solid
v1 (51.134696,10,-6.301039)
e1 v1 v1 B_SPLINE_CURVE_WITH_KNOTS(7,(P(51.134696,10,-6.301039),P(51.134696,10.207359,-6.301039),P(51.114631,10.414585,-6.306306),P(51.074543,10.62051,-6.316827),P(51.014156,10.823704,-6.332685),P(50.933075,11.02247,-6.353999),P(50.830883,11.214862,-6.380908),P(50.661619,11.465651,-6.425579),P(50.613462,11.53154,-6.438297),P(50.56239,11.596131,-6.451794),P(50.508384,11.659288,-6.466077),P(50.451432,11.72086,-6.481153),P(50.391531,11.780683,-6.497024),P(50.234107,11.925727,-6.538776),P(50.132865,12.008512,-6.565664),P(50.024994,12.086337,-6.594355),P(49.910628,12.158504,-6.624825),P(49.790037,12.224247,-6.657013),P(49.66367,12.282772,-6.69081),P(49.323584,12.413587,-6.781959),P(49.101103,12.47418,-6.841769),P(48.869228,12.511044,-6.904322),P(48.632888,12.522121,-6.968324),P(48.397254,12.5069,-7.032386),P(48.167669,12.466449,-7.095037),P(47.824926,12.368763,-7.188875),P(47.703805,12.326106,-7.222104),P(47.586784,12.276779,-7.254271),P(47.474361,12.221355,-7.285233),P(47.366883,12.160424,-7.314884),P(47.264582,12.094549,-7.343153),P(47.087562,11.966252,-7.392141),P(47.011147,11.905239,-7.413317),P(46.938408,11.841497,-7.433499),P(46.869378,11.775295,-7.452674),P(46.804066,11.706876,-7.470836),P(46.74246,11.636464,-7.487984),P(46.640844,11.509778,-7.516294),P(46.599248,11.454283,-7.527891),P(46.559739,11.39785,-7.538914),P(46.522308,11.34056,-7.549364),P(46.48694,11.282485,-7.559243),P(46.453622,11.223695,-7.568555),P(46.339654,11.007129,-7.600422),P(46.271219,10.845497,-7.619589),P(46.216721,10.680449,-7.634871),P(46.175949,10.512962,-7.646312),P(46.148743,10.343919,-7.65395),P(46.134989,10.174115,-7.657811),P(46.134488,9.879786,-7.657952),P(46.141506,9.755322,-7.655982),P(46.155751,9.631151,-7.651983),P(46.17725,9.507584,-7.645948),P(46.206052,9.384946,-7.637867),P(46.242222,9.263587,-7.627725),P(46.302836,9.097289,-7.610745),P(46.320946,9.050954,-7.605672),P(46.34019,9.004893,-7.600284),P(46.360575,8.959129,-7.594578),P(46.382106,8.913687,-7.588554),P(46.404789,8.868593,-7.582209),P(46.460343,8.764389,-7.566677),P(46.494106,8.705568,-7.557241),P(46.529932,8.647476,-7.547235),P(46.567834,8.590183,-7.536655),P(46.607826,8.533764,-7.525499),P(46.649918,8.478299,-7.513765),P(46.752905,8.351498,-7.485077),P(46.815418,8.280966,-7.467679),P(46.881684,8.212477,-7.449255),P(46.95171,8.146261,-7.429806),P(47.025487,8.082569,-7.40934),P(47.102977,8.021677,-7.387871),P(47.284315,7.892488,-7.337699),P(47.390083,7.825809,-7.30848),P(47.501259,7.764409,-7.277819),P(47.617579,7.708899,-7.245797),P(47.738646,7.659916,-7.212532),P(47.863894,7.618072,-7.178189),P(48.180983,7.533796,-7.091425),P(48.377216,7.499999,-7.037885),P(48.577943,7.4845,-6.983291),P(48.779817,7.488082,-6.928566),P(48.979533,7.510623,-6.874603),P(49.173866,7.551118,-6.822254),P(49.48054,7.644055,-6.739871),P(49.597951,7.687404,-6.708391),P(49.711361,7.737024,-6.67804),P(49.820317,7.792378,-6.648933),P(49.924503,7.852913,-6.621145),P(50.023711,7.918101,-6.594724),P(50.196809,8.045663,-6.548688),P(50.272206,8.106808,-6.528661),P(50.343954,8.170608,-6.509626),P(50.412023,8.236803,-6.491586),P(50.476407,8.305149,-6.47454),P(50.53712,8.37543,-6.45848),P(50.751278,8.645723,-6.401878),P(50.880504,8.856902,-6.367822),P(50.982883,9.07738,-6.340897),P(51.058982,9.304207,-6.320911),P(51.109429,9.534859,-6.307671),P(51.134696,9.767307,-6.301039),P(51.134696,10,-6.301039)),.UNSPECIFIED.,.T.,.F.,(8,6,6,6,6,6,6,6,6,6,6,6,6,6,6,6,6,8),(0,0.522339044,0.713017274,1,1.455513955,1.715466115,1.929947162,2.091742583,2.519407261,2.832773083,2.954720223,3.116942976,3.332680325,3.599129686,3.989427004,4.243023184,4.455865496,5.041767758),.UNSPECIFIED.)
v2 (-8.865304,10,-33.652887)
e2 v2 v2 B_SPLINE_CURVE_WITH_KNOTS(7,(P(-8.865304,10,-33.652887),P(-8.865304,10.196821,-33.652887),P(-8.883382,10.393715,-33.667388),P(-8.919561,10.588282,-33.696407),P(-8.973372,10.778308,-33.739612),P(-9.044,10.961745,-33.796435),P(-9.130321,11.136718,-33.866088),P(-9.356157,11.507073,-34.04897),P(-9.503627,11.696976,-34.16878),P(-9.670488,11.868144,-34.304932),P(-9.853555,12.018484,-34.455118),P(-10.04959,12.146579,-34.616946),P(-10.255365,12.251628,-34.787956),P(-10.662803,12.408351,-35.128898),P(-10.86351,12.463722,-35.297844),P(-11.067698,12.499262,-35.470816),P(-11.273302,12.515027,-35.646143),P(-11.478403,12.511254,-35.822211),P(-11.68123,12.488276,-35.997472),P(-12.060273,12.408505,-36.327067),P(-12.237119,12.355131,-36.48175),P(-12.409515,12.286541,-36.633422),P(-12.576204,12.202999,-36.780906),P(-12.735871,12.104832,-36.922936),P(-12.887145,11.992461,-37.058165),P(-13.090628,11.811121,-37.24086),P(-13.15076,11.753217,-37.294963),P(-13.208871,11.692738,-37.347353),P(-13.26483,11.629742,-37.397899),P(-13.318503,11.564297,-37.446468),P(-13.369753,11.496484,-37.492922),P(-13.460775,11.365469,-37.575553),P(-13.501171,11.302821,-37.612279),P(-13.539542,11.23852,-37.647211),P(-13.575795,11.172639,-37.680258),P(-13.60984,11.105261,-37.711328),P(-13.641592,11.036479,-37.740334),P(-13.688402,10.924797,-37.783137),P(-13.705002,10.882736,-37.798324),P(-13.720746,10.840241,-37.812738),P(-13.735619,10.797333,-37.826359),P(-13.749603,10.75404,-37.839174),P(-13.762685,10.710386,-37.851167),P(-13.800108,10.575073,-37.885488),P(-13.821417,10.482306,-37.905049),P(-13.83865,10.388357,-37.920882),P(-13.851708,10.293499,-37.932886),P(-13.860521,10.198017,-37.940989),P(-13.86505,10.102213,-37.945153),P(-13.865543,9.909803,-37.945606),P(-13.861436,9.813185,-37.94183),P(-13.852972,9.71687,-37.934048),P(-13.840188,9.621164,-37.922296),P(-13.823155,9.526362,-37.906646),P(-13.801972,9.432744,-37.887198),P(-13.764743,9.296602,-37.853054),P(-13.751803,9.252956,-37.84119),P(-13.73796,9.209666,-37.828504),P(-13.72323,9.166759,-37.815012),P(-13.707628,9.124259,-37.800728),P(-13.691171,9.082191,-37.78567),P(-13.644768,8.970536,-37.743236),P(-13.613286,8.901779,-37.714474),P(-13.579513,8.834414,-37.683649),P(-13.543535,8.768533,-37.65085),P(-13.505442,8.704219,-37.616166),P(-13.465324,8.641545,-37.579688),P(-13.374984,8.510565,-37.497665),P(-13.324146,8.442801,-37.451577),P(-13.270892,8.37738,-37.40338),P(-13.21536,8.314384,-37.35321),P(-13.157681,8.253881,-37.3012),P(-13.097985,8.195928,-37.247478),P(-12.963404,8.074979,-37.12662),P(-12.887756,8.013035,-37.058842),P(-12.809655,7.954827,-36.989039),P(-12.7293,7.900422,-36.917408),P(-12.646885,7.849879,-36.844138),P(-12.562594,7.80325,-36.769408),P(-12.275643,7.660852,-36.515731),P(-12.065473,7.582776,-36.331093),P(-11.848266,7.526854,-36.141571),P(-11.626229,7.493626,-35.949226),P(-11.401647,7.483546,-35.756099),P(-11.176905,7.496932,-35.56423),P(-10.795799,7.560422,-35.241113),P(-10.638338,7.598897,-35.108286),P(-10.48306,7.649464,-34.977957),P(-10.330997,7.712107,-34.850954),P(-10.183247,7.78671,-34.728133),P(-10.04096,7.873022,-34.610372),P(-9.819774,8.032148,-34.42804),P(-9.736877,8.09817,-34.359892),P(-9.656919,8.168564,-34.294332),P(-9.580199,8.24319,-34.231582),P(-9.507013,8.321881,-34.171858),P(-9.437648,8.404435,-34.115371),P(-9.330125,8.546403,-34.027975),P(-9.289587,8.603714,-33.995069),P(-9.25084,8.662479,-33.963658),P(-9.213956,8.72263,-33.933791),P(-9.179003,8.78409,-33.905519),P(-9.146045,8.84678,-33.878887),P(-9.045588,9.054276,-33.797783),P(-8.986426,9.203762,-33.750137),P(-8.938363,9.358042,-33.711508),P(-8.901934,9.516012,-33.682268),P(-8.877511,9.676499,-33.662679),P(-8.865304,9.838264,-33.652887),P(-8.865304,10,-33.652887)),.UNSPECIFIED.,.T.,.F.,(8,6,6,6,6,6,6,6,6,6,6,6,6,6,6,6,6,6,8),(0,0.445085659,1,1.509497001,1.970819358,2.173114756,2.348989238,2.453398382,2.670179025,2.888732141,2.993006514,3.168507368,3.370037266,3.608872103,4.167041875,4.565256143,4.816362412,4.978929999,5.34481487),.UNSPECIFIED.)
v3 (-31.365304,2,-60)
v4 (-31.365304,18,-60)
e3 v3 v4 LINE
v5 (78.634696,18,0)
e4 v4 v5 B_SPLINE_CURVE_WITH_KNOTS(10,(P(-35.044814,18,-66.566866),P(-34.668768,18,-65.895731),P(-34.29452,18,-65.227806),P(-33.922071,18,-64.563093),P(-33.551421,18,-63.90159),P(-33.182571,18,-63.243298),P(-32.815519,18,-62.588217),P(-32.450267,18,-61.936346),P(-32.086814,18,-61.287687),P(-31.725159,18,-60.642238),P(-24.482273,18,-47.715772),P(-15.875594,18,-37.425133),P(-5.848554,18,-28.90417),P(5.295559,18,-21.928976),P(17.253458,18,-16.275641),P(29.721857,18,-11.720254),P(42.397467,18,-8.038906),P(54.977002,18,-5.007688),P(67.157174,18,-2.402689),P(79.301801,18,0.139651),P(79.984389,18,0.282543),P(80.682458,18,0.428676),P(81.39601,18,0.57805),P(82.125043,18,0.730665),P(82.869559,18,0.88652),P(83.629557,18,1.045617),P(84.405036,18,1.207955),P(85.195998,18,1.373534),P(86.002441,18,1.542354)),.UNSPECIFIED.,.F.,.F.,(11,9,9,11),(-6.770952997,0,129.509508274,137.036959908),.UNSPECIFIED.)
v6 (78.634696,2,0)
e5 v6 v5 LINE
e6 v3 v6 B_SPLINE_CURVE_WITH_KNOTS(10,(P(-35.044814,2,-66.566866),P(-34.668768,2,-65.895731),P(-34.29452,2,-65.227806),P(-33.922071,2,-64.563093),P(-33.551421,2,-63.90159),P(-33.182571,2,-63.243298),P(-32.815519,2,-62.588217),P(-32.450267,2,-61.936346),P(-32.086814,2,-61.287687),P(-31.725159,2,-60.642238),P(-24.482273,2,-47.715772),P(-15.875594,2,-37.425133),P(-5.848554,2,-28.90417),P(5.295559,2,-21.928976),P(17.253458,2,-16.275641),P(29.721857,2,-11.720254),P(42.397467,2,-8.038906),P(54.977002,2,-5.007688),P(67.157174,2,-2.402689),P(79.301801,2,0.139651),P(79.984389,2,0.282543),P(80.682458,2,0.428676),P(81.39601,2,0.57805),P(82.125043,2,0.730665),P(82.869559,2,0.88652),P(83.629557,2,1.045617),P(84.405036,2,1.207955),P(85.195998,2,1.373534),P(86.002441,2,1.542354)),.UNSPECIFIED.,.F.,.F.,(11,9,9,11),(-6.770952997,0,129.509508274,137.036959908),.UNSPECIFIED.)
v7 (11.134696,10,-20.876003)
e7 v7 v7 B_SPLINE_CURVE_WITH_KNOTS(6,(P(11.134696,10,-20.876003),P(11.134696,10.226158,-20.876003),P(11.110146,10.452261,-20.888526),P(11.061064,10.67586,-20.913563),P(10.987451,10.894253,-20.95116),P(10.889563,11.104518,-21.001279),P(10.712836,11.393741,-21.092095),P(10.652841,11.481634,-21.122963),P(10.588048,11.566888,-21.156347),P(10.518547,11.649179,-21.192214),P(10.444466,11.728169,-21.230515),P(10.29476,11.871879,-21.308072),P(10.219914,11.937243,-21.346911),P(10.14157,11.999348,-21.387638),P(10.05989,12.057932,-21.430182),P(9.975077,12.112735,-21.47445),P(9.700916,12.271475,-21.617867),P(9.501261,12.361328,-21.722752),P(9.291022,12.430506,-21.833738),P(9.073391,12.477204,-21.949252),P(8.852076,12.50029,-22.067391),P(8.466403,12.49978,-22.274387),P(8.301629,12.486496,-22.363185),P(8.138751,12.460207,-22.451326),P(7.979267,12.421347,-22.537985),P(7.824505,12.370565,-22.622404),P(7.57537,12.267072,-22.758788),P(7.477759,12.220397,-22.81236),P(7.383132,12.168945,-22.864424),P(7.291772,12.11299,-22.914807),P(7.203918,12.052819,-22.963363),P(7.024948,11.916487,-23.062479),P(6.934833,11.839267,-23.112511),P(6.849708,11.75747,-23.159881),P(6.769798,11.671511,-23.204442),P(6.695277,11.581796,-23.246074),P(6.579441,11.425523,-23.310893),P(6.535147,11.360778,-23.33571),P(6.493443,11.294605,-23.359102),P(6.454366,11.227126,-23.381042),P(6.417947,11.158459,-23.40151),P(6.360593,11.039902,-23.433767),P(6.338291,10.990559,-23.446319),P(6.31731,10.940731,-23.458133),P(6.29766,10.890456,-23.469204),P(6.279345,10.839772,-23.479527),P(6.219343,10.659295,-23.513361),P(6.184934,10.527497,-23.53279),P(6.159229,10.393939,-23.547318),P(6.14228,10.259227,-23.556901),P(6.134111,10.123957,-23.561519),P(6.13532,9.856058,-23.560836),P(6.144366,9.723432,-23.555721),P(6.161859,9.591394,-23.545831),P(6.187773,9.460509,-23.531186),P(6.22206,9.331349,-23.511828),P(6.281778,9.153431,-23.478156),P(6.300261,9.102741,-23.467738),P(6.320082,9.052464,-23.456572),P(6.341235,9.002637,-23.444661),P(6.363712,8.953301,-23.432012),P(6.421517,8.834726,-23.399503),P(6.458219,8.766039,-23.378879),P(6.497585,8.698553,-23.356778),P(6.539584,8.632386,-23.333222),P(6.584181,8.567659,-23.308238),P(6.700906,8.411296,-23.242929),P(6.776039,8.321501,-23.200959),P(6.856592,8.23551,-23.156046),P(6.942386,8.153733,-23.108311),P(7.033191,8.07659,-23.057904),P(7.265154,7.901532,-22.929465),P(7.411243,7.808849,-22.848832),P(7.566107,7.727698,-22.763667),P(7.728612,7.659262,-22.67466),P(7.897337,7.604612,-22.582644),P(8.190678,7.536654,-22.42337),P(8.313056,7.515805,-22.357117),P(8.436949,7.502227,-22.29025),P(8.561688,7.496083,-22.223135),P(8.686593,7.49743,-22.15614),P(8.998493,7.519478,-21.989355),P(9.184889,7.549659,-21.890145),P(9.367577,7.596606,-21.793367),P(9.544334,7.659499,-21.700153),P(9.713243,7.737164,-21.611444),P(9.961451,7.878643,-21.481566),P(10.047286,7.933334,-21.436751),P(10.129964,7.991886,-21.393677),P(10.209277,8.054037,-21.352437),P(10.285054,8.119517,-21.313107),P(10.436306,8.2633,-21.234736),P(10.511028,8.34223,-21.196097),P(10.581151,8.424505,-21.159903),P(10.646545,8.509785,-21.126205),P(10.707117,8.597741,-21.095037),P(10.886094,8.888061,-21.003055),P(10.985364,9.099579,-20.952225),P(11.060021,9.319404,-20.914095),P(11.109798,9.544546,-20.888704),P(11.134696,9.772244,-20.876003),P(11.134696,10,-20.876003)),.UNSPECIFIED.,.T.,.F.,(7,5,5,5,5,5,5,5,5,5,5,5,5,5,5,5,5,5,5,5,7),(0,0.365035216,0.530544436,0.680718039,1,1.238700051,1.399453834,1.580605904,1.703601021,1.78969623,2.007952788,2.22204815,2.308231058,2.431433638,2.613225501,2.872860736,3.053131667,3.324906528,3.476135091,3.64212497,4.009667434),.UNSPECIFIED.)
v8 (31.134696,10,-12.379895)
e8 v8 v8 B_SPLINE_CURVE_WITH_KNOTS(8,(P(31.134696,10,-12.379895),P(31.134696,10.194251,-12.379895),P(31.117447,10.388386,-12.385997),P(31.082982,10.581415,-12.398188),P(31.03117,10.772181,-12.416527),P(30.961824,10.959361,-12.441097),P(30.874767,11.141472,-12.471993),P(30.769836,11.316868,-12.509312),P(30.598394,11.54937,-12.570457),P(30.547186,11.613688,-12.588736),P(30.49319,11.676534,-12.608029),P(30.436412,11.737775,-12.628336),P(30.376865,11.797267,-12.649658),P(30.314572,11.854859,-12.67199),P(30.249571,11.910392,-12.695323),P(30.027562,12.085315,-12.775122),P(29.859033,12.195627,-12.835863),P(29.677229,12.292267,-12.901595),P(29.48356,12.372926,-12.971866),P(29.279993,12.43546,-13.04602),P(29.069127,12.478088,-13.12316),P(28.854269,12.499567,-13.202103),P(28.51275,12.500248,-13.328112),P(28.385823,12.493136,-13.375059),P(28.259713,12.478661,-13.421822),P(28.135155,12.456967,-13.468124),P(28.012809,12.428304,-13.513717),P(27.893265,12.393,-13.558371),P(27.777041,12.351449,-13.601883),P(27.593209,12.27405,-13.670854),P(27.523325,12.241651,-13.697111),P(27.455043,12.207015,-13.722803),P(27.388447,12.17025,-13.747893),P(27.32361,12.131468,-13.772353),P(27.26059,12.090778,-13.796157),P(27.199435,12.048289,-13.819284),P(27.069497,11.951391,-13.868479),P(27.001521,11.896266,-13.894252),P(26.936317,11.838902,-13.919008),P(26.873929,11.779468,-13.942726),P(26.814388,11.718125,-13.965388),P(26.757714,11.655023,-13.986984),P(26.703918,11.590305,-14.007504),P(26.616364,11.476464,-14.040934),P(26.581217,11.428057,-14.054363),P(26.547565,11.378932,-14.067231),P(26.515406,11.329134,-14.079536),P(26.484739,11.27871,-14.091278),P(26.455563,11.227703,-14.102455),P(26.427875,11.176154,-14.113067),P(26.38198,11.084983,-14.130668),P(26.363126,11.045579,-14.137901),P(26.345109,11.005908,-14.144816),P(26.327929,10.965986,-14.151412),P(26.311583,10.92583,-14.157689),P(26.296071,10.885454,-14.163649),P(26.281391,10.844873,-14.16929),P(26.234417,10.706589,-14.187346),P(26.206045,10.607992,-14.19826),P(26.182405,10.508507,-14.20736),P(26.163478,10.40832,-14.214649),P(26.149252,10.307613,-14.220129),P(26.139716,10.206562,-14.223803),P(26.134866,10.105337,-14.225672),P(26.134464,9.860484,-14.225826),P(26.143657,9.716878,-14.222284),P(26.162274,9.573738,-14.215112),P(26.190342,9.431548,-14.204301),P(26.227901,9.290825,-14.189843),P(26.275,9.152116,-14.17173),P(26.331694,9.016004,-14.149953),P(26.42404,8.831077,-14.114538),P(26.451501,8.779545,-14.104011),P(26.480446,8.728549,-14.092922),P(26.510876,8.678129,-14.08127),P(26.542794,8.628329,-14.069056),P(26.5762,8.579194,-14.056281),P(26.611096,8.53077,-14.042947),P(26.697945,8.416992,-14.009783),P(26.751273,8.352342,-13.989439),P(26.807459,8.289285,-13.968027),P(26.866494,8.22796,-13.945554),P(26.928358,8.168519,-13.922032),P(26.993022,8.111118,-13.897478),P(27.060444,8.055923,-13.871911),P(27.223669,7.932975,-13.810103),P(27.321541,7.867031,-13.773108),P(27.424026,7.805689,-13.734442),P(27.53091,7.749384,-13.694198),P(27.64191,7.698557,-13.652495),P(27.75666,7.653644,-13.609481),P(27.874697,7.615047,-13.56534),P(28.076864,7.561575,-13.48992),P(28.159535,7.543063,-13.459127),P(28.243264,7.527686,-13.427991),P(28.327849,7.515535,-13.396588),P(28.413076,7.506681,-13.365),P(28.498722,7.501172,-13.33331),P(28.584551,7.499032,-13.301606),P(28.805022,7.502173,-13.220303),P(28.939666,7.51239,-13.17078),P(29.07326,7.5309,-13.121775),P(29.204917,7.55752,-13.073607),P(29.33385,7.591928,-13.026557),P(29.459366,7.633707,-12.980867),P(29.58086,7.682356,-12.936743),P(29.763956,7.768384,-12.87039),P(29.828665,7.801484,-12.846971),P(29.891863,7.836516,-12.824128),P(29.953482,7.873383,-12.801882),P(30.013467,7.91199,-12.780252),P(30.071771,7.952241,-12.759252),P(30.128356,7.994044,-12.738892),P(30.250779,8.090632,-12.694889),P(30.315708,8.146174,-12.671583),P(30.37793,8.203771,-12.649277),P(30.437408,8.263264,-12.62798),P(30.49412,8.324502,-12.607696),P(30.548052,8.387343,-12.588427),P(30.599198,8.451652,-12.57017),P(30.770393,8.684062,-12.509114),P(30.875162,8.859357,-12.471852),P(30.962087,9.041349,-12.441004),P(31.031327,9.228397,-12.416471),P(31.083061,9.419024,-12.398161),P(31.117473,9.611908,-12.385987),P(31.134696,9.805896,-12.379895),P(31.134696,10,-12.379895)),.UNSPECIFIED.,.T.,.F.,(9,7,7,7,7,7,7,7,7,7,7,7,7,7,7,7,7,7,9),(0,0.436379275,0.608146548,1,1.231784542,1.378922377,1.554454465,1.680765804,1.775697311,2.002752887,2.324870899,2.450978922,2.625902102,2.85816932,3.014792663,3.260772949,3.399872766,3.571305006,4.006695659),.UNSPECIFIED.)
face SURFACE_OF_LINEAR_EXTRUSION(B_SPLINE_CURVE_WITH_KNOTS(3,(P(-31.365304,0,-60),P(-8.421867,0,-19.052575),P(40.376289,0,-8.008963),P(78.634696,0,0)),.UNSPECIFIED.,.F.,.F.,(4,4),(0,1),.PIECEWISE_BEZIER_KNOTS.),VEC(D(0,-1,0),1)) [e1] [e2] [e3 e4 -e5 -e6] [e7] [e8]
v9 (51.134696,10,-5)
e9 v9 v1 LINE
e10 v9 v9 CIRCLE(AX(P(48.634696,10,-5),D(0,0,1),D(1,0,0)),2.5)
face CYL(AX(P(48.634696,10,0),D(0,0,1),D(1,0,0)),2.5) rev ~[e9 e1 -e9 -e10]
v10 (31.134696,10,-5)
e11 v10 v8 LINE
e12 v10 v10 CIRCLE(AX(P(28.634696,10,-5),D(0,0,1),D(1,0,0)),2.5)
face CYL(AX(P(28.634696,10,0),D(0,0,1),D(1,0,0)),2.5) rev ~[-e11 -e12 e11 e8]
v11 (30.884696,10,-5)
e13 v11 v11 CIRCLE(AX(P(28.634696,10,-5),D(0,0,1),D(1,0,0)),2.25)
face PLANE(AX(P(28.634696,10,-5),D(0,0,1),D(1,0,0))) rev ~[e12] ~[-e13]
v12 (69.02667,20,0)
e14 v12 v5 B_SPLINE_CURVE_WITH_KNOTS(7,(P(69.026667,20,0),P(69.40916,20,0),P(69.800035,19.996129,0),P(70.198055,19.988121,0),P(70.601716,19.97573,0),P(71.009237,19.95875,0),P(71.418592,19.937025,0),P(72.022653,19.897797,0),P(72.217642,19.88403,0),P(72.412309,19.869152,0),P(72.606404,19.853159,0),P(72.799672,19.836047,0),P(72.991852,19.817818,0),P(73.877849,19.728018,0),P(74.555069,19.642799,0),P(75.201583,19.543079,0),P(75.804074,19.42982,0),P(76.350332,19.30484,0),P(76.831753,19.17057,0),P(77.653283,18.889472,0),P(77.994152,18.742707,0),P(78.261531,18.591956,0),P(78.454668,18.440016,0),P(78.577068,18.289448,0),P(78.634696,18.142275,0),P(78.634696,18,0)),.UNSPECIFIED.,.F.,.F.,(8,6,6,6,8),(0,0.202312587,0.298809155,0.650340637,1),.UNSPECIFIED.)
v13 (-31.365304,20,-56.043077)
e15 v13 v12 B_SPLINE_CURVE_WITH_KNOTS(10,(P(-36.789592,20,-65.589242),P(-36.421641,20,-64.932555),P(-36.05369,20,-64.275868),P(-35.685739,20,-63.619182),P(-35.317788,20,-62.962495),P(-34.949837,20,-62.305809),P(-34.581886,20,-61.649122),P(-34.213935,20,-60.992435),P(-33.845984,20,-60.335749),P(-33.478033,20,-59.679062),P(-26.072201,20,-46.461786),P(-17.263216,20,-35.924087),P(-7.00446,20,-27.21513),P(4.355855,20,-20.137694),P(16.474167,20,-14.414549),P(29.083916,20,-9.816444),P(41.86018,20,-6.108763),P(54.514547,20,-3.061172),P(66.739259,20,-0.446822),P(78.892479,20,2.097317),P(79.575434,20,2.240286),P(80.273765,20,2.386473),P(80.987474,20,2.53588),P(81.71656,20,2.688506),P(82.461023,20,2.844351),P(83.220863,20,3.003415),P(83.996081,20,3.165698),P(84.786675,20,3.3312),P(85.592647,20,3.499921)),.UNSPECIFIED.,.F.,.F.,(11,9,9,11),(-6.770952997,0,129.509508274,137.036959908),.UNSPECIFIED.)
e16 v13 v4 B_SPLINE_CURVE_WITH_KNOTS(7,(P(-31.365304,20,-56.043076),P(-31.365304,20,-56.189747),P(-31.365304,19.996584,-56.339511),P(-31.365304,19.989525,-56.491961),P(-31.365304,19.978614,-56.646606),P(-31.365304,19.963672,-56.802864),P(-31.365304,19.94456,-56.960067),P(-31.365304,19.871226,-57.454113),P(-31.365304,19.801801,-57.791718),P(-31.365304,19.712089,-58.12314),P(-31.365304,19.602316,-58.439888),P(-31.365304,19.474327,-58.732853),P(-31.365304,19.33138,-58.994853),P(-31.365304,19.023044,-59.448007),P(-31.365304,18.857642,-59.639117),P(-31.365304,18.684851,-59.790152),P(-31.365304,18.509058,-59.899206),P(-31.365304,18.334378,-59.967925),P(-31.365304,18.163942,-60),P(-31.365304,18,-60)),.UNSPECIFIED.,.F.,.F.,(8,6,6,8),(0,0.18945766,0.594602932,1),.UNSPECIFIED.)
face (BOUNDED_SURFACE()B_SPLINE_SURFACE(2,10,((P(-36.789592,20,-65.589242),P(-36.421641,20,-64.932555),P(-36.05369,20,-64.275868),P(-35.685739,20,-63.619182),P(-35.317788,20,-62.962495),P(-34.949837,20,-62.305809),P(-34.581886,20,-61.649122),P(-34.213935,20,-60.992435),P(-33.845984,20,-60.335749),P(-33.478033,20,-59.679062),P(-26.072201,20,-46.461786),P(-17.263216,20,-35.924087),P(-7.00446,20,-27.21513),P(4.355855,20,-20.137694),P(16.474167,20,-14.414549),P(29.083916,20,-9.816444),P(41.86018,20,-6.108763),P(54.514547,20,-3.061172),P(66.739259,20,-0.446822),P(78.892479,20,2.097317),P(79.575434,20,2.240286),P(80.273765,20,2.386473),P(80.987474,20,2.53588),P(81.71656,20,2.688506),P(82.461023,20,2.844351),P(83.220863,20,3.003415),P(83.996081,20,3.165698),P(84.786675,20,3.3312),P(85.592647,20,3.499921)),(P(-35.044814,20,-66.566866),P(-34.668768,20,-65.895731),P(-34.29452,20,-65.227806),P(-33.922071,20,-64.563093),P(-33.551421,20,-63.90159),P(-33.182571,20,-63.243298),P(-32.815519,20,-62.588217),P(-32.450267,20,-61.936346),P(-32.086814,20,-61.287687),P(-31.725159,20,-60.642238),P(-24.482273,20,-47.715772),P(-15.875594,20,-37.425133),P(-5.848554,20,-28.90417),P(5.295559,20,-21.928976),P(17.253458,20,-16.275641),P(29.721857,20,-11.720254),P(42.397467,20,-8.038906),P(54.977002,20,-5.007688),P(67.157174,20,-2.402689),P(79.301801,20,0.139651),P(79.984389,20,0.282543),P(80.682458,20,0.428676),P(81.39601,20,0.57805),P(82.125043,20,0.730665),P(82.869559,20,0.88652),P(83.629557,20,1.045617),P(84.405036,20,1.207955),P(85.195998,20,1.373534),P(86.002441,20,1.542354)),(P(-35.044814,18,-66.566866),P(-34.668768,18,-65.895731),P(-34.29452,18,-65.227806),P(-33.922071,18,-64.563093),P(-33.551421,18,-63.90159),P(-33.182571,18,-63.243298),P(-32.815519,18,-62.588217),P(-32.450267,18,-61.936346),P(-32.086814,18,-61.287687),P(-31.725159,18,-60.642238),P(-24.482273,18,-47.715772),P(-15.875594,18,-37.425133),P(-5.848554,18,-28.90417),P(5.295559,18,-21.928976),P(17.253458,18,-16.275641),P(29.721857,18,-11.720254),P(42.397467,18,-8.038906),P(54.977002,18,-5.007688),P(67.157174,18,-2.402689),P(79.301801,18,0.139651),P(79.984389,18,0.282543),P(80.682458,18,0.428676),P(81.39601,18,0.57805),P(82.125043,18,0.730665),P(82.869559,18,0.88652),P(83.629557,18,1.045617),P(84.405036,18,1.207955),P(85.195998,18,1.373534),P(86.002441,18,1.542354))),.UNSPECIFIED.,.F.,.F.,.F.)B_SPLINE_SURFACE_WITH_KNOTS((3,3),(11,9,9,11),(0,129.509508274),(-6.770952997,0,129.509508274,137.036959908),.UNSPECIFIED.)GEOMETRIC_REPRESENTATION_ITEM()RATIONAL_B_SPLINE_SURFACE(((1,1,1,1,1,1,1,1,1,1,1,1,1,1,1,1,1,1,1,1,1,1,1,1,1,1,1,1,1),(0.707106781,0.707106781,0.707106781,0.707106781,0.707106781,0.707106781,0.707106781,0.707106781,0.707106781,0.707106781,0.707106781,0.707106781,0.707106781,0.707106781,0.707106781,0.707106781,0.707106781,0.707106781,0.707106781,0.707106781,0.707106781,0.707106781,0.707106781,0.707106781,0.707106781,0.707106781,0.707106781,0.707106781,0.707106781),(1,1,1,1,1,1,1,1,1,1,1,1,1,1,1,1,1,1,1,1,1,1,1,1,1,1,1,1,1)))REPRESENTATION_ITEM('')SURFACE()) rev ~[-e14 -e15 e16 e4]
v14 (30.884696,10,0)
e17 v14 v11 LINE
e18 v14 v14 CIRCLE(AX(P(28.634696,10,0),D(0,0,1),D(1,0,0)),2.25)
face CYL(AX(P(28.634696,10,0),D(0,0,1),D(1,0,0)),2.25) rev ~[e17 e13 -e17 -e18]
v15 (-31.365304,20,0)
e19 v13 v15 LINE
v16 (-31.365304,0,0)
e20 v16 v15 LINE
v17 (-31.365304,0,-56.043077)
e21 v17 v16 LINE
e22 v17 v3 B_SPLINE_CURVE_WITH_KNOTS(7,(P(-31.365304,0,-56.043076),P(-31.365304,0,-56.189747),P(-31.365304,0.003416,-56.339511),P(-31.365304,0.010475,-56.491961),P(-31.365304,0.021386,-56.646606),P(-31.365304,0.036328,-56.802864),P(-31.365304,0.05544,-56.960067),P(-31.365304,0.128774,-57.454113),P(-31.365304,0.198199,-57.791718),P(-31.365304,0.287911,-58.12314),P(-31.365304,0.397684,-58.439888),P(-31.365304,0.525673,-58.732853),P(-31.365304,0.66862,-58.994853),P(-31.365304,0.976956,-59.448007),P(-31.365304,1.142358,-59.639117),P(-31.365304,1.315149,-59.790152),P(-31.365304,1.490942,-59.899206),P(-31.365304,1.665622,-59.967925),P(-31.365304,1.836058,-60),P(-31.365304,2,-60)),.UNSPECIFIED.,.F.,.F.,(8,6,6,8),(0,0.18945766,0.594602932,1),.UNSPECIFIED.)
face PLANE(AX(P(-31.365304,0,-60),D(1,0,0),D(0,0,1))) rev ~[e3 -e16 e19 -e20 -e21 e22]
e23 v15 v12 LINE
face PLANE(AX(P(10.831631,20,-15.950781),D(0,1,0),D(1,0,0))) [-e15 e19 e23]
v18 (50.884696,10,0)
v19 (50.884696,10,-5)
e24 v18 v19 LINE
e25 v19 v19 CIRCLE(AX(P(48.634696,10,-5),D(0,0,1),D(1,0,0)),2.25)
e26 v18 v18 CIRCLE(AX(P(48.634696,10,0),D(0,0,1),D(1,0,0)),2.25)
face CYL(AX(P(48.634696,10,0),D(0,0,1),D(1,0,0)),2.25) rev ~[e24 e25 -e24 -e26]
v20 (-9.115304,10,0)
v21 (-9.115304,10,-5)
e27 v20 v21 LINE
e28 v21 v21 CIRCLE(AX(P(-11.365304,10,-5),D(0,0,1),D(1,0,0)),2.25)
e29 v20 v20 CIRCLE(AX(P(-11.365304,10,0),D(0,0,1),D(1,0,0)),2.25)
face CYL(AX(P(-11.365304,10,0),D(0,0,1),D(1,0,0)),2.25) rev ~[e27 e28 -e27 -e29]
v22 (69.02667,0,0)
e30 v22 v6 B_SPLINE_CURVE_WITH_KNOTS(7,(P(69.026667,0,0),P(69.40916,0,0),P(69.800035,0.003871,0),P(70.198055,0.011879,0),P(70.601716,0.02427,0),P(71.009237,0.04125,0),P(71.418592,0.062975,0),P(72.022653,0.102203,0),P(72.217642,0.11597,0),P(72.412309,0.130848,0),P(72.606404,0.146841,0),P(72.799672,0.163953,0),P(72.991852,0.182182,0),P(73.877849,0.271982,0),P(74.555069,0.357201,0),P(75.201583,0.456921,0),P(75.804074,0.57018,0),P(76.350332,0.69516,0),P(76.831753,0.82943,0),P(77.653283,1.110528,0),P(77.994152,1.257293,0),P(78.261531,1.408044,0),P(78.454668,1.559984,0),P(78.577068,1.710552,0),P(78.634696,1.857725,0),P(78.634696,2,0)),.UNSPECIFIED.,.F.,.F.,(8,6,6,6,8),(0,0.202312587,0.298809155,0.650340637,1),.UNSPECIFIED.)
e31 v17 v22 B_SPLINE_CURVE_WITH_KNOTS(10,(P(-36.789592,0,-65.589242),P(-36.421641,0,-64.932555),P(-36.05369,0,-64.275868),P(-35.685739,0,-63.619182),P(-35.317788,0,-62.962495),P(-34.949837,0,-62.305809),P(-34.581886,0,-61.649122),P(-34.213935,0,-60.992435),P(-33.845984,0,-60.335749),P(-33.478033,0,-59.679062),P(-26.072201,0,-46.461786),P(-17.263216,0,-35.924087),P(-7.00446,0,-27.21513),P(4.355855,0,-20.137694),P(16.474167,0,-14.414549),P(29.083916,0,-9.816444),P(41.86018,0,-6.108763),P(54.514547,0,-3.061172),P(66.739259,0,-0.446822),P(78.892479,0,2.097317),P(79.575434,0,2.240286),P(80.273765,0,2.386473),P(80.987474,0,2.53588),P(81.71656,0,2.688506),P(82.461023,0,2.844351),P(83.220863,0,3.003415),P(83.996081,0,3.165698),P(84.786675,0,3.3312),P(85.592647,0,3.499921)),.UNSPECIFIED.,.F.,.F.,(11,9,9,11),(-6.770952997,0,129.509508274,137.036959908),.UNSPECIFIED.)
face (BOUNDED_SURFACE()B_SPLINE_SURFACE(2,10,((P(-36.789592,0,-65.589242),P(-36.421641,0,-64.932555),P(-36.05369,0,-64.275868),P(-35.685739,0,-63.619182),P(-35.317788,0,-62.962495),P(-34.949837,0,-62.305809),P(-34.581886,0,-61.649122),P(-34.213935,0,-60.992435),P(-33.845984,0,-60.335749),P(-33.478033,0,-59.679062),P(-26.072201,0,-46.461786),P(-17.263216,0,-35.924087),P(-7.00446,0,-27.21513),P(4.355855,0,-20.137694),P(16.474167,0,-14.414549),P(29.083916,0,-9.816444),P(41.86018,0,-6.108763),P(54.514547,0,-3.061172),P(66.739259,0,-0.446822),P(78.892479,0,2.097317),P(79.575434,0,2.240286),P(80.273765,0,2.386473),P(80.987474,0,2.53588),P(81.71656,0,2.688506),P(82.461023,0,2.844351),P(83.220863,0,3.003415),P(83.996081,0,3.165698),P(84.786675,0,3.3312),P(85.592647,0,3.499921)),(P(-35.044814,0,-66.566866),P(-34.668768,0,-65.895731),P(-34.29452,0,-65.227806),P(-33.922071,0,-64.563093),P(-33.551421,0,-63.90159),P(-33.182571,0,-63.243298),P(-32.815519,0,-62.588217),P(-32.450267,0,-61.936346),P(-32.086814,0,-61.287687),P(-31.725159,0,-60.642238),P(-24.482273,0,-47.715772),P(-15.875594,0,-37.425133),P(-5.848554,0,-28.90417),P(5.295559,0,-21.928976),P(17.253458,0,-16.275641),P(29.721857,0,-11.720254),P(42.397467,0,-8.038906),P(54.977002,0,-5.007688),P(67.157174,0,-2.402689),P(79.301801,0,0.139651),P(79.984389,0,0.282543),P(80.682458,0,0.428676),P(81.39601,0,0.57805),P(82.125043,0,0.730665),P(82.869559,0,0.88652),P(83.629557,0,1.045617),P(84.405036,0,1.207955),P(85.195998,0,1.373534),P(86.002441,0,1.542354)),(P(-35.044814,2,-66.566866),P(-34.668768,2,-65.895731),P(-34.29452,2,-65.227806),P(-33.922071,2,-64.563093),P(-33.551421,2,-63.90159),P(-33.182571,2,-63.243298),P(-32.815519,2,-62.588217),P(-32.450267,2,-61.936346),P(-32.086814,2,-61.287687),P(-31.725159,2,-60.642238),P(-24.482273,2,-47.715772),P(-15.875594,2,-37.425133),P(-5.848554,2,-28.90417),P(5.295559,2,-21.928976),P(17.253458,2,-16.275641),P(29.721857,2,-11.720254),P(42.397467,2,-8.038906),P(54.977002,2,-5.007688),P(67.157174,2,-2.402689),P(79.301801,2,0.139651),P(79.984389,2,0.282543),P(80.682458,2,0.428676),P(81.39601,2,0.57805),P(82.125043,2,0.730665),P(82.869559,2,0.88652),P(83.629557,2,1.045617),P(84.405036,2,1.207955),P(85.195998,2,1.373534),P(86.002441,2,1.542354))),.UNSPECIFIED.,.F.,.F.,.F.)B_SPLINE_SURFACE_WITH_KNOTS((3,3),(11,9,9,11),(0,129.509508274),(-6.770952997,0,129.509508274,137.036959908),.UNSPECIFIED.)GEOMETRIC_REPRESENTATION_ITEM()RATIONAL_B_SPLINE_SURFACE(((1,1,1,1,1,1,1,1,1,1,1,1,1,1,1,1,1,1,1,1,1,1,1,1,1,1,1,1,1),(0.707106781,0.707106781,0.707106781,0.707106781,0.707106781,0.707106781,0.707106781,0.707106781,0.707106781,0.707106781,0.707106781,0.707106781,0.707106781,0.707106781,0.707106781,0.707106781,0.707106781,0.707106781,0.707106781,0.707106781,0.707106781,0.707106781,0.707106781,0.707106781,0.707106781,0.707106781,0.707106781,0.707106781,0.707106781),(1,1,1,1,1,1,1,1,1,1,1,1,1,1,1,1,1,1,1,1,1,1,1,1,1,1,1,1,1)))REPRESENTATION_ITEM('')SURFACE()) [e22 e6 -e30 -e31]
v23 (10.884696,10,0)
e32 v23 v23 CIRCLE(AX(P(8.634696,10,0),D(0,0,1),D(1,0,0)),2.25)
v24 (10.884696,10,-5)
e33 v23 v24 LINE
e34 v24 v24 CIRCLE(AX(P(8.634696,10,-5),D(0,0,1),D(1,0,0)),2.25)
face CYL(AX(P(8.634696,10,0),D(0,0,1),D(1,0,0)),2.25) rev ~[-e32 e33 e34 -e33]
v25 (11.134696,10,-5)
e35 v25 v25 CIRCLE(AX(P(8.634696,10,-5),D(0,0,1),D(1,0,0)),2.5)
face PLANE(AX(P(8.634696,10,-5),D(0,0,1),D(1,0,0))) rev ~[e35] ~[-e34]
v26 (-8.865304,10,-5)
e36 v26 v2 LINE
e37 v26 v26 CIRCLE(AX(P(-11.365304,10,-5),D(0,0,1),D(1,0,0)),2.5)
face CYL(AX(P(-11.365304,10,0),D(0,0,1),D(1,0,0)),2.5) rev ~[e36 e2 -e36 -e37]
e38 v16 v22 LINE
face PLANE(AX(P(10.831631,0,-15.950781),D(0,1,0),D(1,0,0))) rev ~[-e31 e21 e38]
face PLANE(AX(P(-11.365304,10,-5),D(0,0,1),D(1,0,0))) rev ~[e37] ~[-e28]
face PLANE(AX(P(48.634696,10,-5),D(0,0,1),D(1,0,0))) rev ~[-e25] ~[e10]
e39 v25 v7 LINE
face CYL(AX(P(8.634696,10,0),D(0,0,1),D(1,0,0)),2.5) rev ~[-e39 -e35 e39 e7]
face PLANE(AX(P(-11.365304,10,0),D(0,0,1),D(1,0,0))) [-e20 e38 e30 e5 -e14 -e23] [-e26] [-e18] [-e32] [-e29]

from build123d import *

# Parameters (mm, degrees)
BOSS_EXTRUDE1_DEPTH = 20
SKETCH3_R           = 2.5
CUT_EXTRUDE1_DEPTH  = 101.912910248
SKETCH4_R           = 2.5
BOSS_EXTRUDE2_DEPTH = 5
SKETCH5_R           = 2.25
CUT_EXTRUDE2_DEPTH  = 101.912910248
FILLET2_R           = 2


with BuildPart() as part:
    # Sketch2 → Boss-Extrude1 (new body)
    with BuildSketch(Plane(origin=(0, 0, 0), x_dir=(1, 0, 0), z_dir=(0, 1, 0))):
        with BuildLine():
            Line((-31.365303949, 0), (78.634696051, 0))
            add(Edge.make_bspline(
                [(-31.365303949, 60), (-8.421867165, 19.05257491), (40.3762891, 8.008963313), (78.634696051, 0)],
                knots=[0, 0, 0, 0, 1, 1, 1, 1], degree=3))
            Line((-31.365303949, 60), (-31.365303949, 0))
        make_face()
    extrude(amount=BOSS_EXTRUDE1_DEPTH)

    # Sketch3 → Cut-Extrude1 (cut, through all)
    with BuildSketch(Plane.XY):
        with Locations((-11.365303949, 10)):
            Circle(SKETCH3_R)
        with Locations((8.634696051, 10)):
            Circle(SKETCH3_R)
        with Locations((28.634696051, 10)):
            Circle(SKETCH3_R)
        with Locations((48.634696051, 10)):
            Circle(SKETCH3_R)
    extrude(amount=-CUT_EXTRUDE1_DEPTH, mode=Mode.SUBTRACT)

    # Sketch4 → Boss-Extrude2 (add)
    with BuildSketch(Plane.XY):
        with Locations((-11.365303949, 10)):
            Circle(SKETCH4_R)
        with Locations((8.634696051, 10)):
            Circle(SKETCH4_R)
        with Locations((28.634696051, 10)):
            Circle(SKETCH4_R)
        with Locations((48.634696051, 10)):
            Circle(SKETCH4_R)
    extrude(amount=-BOSS_EXTRUDE2_DEPTH)

    # Sketch5 → Cut-Extrude2 (cut, through all)
    with BuildSketch(Plane.XY):
        with Locations((-11.365303949, 10)):
            Circle(SKETCH5_R)
        with Locations((8.634696051, 10)):
            Circle(SKETCH5_R)
        with Locations((28.634696051, 10)):
            Circle(SKETCH5_R)
        with Locations((48.634696051, 10)):
            Circle(SKETCH5_R)
    extrude(amount=-CUT_EXTRUDE2_DEPTH, mode=Mode.SUBTRACT)

    # Fillet2
    fillet2_edges = [part.edges().sort_by_distance(p)[0] for p in [
        (16.640660288, 20, -18.214380109),
        (16.640660288, 0, -18.214380109),
    ]]
    fillet(fillet2_edges, radius=FILLET2_R)


solid = part.part
